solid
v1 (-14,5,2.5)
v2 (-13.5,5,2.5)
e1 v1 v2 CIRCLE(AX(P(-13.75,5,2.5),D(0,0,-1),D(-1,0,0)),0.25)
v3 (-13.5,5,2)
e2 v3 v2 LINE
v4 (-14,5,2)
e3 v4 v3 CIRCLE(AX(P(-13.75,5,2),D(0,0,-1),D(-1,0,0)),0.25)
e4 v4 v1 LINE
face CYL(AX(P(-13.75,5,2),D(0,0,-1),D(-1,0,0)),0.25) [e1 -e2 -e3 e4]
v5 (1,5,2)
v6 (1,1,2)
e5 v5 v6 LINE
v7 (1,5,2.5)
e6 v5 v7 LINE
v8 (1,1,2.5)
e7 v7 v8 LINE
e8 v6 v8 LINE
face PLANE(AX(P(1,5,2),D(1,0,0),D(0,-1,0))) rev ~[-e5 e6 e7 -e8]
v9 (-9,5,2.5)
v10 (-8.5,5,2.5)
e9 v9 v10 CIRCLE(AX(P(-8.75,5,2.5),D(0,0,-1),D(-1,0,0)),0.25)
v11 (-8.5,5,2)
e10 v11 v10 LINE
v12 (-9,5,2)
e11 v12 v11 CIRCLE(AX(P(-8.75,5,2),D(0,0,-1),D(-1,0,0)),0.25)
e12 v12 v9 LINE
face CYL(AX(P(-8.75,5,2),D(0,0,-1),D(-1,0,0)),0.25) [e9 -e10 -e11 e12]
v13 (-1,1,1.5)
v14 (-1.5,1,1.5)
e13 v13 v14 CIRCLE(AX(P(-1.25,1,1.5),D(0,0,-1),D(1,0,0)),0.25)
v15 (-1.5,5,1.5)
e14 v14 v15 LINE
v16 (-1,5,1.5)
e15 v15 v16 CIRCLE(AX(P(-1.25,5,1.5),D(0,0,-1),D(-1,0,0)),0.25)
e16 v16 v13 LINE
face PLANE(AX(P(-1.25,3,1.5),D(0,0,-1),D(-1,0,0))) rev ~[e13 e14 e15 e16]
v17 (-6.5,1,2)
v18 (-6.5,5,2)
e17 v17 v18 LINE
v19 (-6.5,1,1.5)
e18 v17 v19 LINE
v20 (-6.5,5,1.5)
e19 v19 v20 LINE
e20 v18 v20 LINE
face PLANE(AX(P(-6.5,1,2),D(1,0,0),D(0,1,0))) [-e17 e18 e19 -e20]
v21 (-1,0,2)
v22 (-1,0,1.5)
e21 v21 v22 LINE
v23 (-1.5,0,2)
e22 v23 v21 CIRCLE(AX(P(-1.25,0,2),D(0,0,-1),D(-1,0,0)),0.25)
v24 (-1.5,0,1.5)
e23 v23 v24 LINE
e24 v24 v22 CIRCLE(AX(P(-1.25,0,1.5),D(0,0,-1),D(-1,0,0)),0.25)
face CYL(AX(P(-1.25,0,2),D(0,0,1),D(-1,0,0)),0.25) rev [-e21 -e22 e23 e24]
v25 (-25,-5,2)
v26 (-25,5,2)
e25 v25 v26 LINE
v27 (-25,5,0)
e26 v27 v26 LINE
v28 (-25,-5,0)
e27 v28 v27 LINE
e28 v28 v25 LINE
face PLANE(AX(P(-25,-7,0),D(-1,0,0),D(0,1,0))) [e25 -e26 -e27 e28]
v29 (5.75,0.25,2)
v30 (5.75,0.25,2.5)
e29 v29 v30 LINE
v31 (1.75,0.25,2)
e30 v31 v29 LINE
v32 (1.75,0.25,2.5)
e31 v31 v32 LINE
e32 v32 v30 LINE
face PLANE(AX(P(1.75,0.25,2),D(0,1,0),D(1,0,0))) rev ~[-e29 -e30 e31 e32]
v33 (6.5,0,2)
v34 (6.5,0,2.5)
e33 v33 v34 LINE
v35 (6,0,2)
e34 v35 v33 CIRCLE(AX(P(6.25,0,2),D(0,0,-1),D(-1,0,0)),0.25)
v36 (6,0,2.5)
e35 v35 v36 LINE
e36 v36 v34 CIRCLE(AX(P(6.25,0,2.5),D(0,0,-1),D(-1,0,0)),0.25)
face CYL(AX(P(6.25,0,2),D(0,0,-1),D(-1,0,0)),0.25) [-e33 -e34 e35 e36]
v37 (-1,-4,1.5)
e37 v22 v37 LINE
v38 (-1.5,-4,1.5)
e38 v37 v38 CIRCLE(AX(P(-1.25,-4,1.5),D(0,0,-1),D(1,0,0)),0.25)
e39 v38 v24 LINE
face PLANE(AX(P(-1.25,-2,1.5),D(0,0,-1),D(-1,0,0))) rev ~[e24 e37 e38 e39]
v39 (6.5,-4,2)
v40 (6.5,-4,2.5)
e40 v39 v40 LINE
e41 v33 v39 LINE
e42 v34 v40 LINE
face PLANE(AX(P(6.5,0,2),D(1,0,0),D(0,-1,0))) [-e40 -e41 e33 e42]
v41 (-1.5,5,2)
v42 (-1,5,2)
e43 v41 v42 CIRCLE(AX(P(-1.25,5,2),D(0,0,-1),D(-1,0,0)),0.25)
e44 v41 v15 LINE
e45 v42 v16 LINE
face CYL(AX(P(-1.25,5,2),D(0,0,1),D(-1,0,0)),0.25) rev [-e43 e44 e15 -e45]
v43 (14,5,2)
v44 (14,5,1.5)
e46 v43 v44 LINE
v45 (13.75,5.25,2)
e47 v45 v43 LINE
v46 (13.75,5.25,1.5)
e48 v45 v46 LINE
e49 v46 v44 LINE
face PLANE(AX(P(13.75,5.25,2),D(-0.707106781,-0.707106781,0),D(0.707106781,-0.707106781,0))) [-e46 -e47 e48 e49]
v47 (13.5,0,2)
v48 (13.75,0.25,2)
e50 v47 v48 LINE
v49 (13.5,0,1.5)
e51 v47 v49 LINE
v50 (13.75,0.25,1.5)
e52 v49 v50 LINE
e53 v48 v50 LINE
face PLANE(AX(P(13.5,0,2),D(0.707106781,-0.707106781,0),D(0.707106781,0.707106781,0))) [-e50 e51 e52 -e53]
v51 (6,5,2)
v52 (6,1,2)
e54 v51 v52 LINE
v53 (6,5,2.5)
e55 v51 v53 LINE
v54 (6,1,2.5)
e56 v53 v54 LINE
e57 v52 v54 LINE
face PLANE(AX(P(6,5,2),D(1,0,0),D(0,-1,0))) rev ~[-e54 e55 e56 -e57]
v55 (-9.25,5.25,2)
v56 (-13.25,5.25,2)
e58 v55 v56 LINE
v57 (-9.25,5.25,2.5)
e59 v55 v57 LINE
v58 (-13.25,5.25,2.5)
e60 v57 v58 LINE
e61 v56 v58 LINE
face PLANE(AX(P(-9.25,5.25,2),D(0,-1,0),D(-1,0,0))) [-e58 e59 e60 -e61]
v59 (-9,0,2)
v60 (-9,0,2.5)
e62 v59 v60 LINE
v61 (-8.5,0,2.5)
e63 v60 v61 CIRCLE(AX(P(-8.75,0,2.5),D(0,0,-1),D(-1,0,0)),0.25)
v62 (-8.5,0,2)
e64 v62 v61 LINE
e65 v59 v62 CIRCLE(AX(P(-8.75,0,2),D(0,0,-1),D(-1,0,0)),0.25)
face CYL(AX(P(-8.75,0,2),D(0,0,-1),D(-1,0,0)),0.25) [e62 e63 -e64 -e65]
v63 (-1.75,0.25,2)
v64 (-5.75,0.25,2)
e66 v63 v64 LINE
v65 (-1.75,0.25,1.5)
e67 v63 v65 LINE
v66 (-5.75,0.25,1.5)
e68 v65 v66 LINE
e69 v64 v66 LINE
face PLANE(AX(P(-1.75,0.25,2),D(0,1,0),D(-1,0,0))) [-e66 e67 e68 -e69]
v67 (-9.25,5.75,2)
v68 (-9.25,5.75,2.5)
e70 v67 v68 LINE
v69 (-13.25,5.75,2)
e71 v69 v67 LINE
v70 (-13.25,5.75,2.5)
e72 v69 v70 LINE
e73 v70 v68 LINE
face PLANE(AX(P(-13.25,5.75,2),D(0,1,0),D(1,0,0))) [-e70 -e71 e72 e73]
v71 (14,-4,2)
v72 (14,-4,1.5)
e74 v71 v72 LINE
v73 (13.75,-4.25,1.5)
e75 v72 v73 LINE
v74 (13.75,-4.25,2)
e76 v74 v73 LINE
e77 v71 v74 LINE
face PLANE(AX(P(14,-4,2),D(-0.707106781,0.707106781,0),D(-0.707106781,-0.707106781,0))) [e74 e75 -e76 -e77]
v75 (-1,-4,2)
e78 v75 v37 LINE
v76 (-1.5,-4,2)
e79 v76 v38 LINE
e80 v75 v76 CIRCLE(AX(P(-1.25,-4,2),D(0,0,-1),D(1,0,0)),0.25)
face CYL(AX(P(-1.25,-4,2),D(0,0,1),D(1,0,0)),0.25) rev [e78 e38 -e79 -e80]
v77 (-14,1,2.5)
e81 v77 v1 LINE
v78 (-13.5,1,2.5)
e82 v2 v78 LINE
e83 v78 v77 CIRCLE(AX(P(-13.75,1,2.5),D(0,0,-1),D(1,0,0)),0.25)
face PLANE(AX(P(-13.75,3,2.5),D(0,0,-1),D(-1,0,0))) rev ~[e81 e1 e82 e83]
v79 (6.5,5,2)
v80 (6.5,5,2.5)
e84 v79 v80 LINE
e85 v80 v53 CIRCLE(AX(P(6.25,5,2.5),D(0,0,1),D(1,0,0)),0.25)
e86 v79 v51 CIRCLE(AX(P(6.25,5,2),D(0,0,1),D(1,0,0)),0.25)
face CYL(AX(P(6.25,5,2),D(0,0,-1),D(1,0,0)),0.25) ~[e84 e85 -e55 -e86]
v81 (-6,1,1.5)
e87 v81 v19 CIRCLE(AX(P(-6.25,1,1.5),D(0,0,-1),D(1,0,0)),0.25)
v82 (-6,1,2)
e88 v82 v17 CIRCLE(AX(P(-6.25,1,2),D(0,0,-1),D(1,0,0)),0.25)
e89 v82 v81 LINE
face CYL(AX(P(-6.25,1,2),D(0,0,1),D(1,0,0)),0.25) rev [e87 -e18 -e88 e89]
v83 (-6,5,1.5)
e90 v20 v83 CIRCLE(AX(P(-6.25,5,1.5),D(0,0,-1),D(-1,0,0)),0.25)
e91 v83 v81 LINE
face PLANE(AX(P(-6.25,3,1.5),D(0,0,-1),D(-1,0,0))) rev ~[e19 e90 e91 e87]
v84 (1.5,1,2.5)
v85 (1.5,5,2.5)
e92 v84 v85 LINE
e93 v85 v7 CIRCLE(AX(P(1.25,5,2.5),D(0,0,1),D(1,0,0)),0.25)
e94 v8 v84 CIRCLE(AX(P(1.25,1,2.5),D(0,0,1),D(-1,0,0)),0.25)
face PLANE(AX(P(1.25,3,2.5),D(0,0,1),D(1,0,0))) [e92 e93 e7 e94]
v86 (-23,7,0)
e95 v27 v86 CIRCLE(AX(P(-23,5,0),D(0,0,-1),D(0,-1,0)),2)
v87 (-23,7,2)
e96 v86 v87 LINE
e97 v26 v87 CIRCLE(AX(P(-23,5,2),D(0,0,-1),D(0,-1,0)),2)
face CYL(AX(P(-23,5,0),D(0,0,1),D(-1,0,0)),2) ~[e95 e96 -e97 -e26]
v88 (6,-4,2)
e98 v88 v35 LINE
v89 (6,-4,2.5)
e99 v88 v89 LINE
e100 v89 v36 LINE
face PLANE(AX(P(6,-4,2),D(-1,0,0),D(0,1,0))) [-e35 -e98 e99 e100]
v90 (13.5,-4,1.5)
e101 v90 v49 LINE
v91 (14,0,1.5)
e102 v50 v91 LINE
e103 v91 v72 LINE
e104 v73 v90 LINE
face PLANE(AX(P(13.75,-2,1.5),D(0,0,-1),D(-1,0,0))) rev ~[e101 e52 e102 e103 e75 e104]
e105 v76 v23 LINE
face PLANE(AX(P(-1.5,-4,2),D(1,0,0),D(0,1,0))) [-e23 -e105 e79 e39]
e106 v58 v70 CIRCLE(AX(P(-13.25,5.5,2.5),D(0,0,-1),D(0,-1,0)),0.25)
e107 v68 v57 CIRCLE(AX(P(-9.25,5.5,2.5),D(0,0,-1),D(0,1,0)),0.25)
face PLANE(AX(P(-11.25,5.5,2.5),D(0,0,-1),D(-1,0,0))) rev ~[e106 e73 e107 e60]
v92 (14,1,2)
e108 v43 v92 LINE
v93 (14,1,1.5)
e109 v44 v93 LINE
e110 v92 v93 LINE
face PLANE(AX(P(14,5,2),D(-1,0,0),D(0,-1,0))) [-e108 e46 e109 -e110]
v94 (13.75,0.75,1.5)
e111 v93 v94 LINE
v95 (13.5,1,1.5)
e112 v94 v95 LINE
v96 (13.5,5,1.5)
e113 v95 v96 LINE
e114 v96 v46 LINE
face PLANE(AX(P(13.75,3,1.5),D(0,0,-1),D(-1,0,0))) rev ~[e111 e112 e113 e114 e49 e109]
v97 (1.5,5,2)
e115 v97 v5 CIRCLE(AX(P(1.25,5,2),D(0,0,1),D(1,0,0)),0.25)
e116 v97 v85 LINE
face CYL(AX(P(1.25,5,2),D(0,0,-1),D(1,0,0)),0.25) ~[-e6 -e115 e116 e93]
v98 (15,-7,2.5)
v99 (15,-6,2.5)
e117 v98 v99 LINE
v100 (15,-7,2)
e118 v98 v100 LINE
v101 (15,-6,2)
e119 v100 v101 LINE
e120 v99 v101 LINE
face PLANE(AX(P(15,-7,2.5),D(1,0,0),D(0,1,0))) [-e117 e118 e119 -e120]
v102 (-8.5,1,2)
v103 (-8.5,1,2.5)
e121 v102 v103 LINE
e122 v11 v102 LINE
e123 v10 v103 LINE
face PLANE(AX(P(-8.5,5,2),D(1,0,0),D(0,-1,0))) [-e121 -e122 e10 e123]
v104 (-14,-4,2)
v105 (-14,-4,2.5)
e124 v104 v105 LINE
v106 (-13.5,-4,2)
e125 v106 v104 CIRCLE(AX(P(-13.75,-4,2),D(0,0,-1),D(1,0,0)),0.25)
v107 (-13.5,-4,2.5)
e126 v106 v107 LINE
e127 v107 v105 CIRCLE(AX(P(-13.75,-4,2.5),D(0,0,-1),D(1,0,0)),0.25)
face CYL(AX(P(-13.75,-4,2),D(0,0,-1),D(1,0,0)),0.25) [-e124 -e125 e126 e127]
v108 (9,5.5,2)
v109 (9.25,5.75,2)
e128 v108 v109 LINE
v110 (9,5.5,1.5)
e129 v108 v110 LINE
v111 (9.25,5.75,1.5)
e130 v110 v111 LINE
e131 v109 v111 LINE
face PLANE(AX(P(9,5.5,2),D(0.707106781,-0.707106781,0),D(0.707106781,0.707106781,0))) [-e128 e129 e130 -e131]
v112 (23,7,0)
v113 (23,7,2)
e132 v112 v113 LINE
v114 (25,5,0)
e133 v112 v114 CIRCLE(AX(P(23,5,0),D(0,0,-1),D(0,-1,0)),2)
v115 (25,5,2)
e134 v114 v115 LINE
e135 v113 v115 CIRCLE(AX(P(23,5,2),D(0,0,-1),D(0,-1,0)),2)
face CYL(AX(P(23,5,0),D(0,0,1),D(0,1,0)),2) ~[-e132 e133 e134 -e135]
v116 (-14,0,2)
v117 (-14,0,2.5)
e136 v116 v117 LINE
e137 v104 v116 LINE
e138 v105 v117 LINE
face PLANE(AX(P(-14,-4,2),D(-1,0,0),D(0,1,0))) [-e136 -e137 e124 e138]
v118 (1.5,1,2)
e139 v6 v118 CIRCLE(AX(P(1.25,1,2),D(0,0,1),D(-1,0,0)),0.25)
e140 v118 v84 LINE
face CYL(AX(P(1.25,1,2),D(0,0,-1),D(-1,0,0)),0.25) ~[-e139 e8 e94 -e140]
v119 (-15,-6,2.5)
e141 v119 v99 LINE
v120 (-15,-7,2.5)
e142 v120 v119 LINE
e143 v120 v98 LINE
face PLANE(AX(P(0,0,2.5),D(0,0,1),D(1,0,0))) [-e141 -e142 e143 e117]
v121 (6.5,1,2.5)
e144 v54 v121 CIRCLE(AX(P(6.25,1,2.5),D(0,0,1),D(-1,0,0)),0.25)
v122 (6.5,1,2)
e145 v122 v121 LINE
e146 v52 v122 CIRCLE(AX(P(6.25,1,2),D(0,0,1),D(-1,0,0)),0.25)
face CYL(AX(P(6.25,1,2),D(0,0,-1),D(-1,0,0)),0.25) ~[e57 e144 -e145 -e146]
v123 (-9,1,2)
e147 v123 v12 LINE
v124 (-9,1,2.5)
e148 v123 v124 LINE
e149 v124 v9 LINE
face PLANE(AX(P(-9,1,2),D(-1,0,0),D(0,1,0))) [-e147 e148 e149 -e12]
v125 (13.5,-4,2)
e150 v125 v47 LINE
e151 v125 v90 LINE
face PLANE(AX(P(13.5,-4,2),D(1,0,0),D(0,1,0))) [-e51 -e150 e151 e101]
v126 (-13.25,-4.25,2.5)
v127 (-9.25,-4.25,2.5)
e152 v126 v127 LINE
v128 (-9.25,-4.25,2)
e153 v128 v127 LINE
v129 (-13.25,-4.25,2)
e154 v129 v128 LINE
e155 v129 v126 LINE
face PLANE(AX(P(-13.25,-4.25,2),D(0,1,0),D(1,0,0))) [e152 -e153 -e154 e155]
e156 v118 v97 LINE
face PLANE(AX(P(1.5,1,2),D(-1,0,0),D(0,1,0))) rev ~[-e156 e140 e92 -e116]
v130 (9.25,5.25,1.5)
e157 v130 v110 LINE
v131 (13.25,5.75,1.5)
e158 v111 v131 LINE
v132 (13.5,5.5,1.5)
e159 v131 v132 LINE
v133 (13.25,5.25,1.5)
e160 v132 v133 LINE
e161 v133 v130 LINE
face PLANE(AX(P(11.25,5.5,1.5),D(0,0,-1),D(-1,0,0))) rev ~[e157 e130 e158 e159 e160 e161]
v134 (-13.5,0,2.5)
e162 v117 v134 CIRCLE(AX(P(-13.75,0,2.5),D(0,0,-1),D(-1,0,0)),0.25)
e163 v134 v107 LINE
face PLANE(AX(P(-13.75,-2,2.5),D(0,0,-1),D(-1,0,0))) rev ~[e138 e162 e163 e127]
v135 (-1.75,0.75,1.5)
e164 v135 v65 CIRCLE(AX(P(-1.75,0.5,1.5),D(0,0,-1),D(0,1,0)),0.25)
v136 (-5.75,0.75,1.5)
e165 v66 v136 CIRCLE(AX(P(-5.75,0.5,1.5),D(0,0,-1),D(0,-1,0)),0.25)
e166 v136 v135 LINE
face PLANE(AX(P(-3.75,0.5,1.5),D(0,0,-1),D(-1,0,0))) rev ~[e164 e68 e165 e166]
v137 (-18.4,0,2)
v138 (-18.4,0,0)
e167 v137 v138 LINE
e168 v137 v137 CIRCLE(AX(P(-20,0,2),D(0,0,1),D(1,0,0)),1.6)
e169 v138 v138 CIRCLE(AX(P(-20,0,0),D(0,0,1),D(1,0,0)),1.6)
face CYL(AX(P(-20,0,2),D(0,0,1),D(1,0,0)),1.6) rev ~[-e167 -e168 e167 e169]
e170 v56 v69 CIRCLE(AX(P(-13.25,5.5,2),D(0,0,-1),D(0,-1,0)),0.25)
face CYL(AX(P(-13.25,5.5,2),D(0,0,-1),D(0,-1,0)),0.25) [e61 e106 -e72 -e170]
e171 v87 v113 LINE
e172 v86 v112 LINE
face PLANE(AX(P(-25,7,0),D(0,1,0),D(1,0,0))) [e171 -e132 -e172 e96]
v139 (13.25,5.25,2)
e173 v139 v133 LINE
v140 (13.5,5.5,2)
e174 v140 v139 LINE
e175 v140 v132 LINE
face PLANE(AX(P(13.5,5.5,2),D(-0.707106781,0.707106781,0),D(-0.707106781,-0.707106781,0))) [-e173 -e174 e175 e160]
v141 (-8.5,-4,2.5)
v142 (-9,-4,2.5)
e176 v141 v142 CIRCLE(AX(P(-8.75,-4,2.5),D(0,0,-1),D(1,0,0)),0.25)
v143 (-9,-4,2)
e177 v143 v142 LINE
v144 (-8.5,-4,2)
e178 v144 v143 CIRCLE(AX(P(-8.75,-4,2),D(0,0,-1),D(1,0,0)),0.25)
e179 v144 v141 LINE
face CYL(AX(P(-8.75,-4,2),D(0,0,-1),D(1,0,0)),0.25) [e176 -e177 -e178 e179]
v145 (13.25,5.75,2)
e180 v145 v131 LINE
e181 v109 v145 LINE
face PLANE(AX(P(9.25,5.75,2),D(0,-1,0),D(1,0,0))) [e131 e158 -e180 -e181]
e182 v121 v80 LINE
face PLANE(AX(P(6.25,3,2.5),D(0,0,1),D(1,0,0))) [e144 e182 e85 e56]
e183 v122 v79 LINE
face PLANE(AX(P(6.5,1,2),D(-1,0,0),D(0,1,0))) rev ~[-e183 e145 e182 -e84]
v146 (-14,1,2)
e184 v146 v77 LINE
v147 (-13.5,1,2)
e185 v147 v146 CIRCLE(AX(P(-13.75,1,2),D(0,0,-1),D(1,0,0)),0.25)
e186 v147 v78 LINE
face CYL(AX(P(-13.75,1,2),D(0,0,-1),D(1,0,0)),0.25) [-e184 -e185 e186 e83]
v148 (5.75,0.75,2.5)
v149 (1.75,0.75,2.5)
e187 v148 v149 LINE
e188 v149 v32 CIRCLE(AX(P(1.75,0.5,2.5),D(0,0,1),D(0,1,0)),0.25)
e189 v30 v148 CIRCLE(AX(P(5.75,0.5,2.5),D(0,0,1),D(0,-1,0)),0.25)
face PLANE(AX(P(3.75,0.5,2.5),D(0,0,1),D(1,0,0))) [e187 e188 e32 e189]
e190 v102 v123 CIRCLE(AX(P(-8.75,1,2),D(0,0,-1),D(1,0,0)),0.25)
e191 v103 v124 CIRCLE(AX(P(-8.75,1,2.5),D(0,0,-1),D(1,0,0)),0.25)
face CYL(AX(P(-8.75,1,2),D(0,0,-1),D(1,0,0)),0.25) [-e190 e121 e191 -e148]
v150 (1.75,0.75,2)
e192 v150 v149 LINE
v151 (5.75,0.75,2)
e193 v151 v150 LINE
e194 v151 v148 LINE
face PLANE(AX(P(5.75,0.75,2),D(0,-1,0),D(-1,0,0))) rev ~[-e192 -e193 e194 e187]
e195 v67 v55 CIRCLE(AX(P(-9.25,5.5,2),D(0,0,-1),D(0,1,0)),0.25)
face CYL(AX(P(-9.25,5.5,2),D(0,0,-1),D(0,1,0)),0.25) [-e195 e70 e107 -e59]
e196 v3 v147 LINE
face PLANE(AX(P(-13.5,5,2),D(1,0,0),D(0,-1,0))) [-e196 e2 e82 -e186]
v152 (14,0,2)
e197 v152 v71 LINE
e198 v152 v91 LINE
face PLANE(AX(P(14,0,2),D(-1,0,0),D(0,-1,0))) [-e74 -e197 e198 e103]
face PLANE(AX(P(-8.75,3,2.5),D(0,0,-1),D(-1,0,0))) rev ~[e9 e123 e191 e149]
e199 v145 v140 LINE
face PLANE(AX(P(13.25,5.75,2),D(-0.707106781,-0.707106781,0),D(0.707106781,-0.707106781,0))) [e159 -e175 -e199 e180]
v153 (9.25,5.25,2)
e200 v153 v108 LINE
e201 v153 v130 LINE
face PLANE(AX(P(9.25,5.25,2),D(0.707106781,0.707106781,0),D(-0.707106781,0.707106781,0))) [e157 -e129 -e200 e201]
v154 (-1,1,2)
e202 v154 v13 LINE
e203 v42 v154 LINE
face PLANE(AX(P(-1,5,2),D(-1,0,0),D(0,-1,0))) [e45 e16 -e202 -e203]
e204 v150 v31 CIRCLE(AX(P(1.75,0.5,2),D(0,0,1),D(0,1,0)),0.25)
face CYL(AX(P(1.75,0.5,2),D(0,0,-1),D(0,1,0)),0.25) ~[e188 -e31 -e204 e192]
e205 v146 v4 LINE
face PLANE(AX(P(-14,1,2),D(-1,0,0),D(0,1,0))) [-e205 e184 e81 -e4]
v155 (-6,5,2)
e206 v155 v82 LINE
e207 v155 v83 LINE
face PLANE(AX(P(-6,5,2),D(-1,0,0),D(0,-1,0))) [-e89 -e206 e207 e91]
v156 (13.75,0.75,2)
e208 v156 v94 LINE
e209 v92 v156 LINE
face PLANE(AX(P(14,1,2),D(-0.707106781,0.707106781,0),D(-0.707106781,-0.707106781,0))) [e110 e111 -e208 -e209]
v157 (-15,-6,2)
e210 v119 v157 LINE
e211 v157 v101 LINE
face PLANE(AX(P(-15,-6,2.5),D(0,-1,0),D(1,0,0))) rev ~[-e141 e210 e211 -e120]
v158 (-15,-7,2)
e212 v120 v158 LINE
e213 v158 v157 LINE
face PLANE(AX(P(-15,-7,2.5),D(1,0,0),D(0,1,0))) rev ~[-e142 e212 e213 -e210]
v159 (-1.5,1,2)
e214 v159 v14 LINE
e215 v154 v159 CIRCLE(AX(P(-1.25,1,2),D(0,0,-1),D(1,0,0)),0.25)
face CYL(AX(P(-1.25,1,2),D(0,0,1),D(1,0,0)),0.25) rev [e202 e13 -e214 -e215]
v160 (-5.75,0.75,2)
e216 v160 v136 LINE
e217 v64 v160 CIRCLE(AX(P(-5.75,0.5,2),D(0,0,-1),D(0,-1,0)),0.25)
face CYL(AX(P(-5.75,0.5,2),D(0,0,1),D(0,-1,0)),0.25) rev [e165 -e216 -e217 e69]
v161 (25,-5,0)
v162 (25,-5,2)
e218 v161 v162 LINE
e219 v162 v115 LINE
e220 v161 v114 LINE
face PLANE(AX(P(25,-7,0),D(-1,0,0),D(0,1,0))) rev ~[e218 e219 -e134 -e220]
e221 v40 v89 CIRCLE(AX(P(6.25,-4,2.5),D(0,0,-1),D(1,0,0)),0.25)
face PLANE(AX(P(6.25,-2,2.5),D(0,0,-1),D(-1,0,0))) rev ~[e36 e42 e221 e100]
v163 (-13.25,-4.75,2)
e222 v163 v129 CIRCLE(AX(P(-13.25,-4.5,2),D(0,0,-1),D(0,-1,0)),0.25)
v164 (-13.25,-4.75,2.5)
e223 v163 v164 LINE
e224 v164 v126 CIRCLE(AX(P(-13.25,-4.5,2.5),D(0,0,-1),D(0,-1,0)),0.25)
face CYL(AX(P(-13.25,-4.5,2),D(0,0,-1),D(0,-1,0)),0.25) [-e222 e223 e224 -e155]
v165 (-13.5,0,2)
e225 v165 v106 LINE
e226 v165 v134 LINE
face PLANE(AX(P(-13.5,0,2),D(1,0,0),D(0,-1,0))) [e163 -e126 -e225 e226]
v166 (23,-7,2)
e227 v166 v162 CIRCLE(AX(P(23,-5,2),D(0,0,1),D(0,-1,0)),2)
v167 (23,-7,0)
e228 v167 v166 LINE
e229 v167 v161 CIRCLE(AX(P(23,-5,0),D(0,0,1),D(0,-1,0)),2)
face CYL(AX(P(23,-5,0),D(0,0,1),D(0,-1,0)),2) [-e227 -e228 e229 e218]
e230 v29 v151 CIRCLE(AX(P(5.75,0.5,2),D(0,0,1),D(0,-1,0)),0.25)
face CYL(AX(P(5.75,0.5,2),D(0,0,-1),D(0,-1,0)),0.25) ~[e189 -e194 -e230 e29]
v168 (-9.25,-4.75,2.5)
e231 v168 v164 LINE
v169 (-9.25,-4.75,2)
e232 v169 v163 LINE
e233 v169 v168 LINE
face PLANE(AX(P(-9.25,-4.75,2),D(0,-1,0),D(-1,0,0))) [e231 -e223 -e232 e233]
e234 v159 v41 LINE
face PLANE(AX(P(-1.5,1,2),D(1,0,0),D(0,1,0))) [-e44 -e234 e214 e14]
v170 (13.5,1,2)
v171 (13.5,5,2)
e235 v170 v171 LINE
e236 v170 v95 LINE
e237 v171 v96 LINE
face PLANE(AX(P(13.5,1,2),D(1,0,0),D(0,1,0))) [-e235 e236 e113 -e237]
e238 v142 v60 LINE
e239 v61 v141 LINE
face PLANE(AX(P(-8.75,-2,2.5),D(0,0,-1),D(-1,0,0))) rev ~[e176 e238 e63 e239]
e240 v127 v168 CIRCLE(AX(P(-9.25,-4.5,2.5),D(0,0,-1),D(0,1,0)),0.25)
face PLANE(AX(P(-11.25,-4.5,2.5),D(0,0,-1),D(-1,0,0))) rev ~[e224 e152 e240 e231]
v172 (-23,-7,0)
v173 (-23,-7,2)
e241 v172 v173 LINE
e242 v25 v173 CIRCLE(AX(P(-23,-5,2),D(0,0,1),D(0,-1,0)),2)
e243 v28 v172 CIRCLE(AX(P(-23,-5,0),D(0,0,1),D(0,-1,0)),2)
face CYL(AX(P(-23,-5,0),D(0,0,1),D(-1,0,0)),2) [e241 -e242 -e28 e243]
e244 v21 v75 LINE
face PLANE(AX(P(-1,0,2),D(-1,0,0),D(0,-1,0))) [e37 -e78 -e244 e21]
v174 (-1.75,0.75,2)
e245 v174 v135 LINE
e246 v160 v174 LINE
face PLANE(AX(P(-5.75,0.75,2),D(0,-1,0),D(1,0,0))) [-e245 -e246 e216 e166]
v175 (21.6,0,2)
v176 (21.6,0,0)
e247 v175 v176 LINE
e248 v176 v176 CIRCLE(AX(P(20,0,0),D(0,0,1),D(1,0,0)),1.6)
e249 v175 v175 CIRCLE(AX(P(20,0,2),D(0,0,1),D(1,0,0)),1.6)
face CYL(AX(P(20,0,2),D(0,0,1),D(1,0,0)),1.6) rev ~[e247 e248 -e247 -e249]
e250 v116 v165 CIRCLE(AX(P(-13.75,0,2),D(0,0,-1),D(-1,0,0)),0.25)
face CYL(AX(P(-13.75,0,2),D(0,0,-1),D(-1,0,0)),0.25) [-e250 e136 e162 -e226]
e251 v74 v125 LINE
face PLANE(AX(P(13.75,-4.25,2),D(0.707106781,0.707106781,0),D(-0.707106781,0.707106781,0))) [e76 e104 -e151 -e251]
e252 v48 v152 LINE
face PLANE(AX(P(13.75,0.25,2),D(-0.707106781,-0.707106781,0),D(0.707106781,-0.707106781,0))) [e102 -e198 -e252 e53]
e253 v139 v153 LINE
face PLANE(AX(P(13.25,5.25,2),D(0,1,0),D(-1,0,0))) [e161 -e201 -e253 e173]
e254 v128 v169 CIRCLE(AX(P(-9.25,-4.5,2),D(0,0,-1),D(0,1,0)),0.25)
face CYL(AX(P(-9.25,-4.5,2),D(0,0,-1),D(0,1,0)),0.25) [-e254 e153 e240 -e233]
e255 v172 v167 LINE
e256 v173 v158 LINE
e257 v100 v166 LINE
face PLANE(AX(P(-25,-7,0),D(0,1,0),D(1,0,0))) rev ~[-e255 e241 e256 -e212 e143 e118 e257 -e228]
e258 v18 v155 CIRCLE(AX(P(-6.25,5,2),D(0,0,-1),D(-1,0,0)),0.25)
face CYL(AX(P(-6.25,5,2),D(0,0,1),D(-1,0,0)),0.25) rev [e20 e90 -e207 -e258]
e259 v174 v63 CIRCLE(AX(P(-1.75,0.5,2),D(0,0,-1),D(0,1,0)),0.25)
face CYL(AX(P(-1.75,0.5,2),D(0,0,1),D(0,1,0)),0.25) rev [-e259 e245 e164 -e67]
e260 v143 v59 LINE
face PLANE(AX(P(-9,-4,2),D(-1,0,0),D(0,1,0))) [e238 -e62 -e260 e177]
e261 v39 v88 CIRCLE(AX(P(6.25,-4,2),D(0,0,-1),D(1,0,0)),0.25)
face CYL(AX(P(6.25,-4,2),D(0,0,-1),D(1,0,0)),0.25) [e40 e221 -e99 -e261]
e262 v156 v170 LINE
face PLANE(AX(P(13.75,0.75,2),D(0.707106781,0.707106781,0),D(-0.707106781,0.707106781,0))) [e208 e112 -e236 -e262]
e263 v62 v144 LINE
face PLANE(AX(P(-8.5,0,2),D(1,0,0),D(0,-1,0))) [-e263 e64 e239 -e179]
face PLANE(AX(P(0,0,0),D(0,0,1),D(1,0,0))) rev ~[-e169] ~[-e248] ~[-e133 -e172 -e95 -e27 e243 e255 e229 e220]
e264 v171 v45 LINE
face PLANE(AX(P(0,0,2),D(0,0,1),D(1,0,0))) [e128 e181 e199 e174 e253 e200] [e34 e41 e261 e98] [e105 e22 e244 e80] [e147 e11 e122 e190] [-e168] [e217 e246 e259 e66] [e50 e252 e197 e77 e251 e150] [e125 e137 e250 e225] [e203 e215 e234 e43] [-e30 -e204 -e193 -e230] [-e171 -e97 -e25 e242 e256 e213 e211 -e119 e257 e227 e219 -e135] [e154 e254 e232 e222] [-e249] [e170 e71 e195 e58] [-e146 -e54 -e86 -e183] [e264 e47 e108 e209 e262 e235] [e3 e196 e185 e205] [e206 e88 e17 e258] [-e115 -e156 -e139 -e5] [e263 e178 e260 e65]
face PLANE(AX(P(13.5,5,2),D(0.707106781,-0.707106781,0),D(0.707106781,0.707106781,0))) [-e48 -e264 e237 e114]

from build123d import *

# Parameters (mm, degrees)
SKETCH2_W           = 50
SKETCH2_H           = 14
BOSS_EXTRUDE1_DEPTH = 2.5
SKETCH4_OUTSIDE_W   = 62.396
SKETCH4_OUTSIDE_H   = 26.396
SKETCH4_OUTSIDE_W_2 = 30
SKETCH4_OUTSIDE_H_2 = 1
CUT_EXTRUDE1_DEPTH  = 0.5
SKETCH5_R           = 1.6
CUT_EXTRUDE2_DEPTH  = 2
FILLET2_R           = 2
CUT_EXTRUDE7_DEPTH  = 0.5
BOSS_EXTRUDE4_DEPTH = 0.5


with BuildPart() as part:
    # Sketch2 → Boss-Extrude1 (new body)
    with BuildSketch(Plane.XY):
        Rectangle(SKETCH2_W, SKETCH2_H)
    extrude(amount=BOSS_EXTRUDE1_DEPTH)

    # Sketch4 outside → Cut-Extrude1 (cut)
    with BuildSketch(Plane.XY.offset(2.5)):
        Rectangle(SKETCH4_OUTSIDE_W, SKETCH4_OUTSIDE_H)
        with Locations((0, -6.5)):
            Rectangle(SKETCH4_OUTSIDE_W_2, SKETCH4_OUTSIDE_H_2, mode=Mode.SUBTRACT)
    extrude(amount=-CUT_EXTRUDE1_DEPTH, mode=Mode.SUBTRACT)

    # Sketch5 → Cut-Extrude2 (cut)
    with BuildSketch(Plane.XY.offset(2)):
        with Locations((-20, 0)):
            Circle(SKETCH5_R)
        with Locations((20, 0)):
            Circle(SKETCH5_R)
    extrude(amount=-CUT_EXTRUDE2_DEPTH, mode=Mode.SUBTRACT)

    # Fillet2
    fillet2_edges = [part.edges().sort_by_distance(p)[0] for p in [
        (25, -7, 1),
        (-25, -7, 1),
        (-25, 7, 1),
        (25, 7, 1),
    ]]
    fillet(fillet2_edges, radius=FILLET2_R)

    # Sketch6 → Cut-Extrude7 (cut)
    with BuildSketch(Plane.XY.offset(2)):
        with BuildLine():
            Line((-5.75, 0.75), (-1.75, 0.75))
            ThreePointArc((-1.75, 0.75), (-1.5, 0.5), (-1.75, 0.25))
            Line((-1.75, 0.25), (-5.75, 0.25))
            ThreePointArc((-5.75, 0.25), (-6, 0.5), (-5.75, 0.75))
        make_face()
        with BuildLine():
            Line((-6.5, 1), (-6.5, 5))
            ThreePointArc((-6.5, 5), (-6.25, 5.25), (-6, 5))
            Line((-6, 5), (-6, 1))
            ThreePointArc((-6, 1), (-6.25, 0.75), (-6.5, 1))
        make_face()
        with BuildLine():
            Line((-1, 0), (-1, -4))
            ThreePointArc((-1, -4), (-1.25, -4.25), (-1.5, -4))
            Line((-1.5, -4), (-1.5, 0))
            ThreePointArc((-1.5, 0), (-1.25, 0.25), (-1, 0))
        make_face()
        with BuildLine():
            Line((-1.5, 1), (-1.5, 5))
            ThreePointArc((-1.5, 5), (-1.25, 5.25), (-1, 5))
            Line((-1, 5), (-1, 1))
            ThreePointArc((-1, 1), (-1.25, 0.75), (-1.5, 1))
        make_face()
        Polygon((14, 0), (14, -4), (13.75, -4.25), (13.5, -4), (13.5, 0), (13.75, 0.25), align=None)
        Polygon((13.25, 5.25), (9.25, 5.25), (9, 5.5), (9.25, 5.75), (13.25, 5.75), (13.5, 5.5), align=None)
        Polygon((13.5, 1), (13.5, 5), (13.75, 5.25), (14, 5), (14, 1), (13.75, 0.75), align=None)
    extrude(amount=-CUT_EXTRUDE7_DEPTH, mode=Mode.SUBTRACT)

    # Sketch6<10> → Boss-Extrude4 (add)
    with BuildSketch(Plane.XY.offset(2)):
        with BuildLine():
            Line((-9, 1), (-9, 5))
            ThreePointArc((-9, 5), (-8.75, 5.25), (-8.5, 5))
            Line((-8.5, 5), (-8.5, 1))
            ThreePointArc((-8.5, 1), (-8.75, 0.75), (-9, 1))
        make_face()
        with BuildLine():
            Line((-13.25, -4.25), (-9.25, -4.25))
            ThreePointArc((-9.25, -4.25), (-9, -4.5), (-9.25, -4.75))
            Line((-9.25, -4.75), (-13.25, -4.75))
            ThreePointArc((-13.25, -4.75), (-13.5, -4.5), (-13.25, -4.25))
        make_face()
        with BuildLine():
            Line((-13.25, 5.75), (-9.25, 5.75))
            ThreePointArc((-9.25, 5.75), (-9, 5.5), (-9.25, 5.25))
            Line((-9.25, 5.25), (-13.25, 5.25))
            ThreePointArc((-13.25, 5.25), (-13.5, 5.5), (-13.25, 5.75))
        make_face()
        with BuildLine():
            Line((-13.5, 0), (-13.5, -4))
            ThreePointArc((-13.5, -4), (-13.75, -4.25), (-14, -4))
            Line((-14, -4), (-14, 0))
            ThreePointArc((-14, 0), (-13.75, 0.25), (-13.5, 0))
        make_face()
        with BuildLine():
            Line((-14, 1), (-14, 5))
            ThreePointArc((-14, 5), (-13.75, 5.25), (-13.5, 5))
            Line((-13.5, 5), (-13.5, 1))
            ThreePointArc((-13.5, 1), (-13.75, 0.75), (-14, 1))
        make_face()
        with BuildLine():
            Line((-8.5, 0), (-8.5, -4))
            ThreePointArc((-8.5, -4), (-8.75, -4.25), (-9, -4))
            Line((-9, -4), (-9, 0))
            ThreePointArc((-9, 0), (-8.75, 0.25), (-8.5, 0))
        make_face()
        with BuildLine():
            Line((1.5, 1), (1.5, 5))
            ThreePointArc((1.5, 5), (1.25, 5.25), (1, 5))
            Line((1, 5), (1, 1))
            ThreePointArc((1, 1), (1.25, 0.75), (1.5, 1))
        make_face()
        with BuildLine():
            Line((1.75, 0.25), (5.75, 0.25))
            ThreePointArc((5.75, 0.25), (6, 0.5), (5.75, 0.75))
            Line((5.75, 0.75), (1.75, 0.75))
            ThreePointArc((1.75, 0.75), (1.5, 0.5), (1.75, 0.25))
        make_face()
        with BuildLine():
            Line((6.5, 1), (6.5, 5))
            ThreePointArc((6.5, 5), (6.25, 5.25), (6, 5))
            Line((6, 5), (6, 1))
            ThreePointArc((6, 1), (6.25, 0.75), (6.5, 1))
        make_face()
        with BuildLine():
            Line((6.5, 0), (6.5, -4))
            ThreePointArc((6.5, -4), (6.25, -4.25), (6, -4))
            Line((6, -4), (6, 0))
            ThreePointArc((6, 0), (6.25, 0.25), (6.5, 0))
        make_face()
    extrude(amount=BOSS_EXTRUDE4_DEPTH)


solid = part.part
